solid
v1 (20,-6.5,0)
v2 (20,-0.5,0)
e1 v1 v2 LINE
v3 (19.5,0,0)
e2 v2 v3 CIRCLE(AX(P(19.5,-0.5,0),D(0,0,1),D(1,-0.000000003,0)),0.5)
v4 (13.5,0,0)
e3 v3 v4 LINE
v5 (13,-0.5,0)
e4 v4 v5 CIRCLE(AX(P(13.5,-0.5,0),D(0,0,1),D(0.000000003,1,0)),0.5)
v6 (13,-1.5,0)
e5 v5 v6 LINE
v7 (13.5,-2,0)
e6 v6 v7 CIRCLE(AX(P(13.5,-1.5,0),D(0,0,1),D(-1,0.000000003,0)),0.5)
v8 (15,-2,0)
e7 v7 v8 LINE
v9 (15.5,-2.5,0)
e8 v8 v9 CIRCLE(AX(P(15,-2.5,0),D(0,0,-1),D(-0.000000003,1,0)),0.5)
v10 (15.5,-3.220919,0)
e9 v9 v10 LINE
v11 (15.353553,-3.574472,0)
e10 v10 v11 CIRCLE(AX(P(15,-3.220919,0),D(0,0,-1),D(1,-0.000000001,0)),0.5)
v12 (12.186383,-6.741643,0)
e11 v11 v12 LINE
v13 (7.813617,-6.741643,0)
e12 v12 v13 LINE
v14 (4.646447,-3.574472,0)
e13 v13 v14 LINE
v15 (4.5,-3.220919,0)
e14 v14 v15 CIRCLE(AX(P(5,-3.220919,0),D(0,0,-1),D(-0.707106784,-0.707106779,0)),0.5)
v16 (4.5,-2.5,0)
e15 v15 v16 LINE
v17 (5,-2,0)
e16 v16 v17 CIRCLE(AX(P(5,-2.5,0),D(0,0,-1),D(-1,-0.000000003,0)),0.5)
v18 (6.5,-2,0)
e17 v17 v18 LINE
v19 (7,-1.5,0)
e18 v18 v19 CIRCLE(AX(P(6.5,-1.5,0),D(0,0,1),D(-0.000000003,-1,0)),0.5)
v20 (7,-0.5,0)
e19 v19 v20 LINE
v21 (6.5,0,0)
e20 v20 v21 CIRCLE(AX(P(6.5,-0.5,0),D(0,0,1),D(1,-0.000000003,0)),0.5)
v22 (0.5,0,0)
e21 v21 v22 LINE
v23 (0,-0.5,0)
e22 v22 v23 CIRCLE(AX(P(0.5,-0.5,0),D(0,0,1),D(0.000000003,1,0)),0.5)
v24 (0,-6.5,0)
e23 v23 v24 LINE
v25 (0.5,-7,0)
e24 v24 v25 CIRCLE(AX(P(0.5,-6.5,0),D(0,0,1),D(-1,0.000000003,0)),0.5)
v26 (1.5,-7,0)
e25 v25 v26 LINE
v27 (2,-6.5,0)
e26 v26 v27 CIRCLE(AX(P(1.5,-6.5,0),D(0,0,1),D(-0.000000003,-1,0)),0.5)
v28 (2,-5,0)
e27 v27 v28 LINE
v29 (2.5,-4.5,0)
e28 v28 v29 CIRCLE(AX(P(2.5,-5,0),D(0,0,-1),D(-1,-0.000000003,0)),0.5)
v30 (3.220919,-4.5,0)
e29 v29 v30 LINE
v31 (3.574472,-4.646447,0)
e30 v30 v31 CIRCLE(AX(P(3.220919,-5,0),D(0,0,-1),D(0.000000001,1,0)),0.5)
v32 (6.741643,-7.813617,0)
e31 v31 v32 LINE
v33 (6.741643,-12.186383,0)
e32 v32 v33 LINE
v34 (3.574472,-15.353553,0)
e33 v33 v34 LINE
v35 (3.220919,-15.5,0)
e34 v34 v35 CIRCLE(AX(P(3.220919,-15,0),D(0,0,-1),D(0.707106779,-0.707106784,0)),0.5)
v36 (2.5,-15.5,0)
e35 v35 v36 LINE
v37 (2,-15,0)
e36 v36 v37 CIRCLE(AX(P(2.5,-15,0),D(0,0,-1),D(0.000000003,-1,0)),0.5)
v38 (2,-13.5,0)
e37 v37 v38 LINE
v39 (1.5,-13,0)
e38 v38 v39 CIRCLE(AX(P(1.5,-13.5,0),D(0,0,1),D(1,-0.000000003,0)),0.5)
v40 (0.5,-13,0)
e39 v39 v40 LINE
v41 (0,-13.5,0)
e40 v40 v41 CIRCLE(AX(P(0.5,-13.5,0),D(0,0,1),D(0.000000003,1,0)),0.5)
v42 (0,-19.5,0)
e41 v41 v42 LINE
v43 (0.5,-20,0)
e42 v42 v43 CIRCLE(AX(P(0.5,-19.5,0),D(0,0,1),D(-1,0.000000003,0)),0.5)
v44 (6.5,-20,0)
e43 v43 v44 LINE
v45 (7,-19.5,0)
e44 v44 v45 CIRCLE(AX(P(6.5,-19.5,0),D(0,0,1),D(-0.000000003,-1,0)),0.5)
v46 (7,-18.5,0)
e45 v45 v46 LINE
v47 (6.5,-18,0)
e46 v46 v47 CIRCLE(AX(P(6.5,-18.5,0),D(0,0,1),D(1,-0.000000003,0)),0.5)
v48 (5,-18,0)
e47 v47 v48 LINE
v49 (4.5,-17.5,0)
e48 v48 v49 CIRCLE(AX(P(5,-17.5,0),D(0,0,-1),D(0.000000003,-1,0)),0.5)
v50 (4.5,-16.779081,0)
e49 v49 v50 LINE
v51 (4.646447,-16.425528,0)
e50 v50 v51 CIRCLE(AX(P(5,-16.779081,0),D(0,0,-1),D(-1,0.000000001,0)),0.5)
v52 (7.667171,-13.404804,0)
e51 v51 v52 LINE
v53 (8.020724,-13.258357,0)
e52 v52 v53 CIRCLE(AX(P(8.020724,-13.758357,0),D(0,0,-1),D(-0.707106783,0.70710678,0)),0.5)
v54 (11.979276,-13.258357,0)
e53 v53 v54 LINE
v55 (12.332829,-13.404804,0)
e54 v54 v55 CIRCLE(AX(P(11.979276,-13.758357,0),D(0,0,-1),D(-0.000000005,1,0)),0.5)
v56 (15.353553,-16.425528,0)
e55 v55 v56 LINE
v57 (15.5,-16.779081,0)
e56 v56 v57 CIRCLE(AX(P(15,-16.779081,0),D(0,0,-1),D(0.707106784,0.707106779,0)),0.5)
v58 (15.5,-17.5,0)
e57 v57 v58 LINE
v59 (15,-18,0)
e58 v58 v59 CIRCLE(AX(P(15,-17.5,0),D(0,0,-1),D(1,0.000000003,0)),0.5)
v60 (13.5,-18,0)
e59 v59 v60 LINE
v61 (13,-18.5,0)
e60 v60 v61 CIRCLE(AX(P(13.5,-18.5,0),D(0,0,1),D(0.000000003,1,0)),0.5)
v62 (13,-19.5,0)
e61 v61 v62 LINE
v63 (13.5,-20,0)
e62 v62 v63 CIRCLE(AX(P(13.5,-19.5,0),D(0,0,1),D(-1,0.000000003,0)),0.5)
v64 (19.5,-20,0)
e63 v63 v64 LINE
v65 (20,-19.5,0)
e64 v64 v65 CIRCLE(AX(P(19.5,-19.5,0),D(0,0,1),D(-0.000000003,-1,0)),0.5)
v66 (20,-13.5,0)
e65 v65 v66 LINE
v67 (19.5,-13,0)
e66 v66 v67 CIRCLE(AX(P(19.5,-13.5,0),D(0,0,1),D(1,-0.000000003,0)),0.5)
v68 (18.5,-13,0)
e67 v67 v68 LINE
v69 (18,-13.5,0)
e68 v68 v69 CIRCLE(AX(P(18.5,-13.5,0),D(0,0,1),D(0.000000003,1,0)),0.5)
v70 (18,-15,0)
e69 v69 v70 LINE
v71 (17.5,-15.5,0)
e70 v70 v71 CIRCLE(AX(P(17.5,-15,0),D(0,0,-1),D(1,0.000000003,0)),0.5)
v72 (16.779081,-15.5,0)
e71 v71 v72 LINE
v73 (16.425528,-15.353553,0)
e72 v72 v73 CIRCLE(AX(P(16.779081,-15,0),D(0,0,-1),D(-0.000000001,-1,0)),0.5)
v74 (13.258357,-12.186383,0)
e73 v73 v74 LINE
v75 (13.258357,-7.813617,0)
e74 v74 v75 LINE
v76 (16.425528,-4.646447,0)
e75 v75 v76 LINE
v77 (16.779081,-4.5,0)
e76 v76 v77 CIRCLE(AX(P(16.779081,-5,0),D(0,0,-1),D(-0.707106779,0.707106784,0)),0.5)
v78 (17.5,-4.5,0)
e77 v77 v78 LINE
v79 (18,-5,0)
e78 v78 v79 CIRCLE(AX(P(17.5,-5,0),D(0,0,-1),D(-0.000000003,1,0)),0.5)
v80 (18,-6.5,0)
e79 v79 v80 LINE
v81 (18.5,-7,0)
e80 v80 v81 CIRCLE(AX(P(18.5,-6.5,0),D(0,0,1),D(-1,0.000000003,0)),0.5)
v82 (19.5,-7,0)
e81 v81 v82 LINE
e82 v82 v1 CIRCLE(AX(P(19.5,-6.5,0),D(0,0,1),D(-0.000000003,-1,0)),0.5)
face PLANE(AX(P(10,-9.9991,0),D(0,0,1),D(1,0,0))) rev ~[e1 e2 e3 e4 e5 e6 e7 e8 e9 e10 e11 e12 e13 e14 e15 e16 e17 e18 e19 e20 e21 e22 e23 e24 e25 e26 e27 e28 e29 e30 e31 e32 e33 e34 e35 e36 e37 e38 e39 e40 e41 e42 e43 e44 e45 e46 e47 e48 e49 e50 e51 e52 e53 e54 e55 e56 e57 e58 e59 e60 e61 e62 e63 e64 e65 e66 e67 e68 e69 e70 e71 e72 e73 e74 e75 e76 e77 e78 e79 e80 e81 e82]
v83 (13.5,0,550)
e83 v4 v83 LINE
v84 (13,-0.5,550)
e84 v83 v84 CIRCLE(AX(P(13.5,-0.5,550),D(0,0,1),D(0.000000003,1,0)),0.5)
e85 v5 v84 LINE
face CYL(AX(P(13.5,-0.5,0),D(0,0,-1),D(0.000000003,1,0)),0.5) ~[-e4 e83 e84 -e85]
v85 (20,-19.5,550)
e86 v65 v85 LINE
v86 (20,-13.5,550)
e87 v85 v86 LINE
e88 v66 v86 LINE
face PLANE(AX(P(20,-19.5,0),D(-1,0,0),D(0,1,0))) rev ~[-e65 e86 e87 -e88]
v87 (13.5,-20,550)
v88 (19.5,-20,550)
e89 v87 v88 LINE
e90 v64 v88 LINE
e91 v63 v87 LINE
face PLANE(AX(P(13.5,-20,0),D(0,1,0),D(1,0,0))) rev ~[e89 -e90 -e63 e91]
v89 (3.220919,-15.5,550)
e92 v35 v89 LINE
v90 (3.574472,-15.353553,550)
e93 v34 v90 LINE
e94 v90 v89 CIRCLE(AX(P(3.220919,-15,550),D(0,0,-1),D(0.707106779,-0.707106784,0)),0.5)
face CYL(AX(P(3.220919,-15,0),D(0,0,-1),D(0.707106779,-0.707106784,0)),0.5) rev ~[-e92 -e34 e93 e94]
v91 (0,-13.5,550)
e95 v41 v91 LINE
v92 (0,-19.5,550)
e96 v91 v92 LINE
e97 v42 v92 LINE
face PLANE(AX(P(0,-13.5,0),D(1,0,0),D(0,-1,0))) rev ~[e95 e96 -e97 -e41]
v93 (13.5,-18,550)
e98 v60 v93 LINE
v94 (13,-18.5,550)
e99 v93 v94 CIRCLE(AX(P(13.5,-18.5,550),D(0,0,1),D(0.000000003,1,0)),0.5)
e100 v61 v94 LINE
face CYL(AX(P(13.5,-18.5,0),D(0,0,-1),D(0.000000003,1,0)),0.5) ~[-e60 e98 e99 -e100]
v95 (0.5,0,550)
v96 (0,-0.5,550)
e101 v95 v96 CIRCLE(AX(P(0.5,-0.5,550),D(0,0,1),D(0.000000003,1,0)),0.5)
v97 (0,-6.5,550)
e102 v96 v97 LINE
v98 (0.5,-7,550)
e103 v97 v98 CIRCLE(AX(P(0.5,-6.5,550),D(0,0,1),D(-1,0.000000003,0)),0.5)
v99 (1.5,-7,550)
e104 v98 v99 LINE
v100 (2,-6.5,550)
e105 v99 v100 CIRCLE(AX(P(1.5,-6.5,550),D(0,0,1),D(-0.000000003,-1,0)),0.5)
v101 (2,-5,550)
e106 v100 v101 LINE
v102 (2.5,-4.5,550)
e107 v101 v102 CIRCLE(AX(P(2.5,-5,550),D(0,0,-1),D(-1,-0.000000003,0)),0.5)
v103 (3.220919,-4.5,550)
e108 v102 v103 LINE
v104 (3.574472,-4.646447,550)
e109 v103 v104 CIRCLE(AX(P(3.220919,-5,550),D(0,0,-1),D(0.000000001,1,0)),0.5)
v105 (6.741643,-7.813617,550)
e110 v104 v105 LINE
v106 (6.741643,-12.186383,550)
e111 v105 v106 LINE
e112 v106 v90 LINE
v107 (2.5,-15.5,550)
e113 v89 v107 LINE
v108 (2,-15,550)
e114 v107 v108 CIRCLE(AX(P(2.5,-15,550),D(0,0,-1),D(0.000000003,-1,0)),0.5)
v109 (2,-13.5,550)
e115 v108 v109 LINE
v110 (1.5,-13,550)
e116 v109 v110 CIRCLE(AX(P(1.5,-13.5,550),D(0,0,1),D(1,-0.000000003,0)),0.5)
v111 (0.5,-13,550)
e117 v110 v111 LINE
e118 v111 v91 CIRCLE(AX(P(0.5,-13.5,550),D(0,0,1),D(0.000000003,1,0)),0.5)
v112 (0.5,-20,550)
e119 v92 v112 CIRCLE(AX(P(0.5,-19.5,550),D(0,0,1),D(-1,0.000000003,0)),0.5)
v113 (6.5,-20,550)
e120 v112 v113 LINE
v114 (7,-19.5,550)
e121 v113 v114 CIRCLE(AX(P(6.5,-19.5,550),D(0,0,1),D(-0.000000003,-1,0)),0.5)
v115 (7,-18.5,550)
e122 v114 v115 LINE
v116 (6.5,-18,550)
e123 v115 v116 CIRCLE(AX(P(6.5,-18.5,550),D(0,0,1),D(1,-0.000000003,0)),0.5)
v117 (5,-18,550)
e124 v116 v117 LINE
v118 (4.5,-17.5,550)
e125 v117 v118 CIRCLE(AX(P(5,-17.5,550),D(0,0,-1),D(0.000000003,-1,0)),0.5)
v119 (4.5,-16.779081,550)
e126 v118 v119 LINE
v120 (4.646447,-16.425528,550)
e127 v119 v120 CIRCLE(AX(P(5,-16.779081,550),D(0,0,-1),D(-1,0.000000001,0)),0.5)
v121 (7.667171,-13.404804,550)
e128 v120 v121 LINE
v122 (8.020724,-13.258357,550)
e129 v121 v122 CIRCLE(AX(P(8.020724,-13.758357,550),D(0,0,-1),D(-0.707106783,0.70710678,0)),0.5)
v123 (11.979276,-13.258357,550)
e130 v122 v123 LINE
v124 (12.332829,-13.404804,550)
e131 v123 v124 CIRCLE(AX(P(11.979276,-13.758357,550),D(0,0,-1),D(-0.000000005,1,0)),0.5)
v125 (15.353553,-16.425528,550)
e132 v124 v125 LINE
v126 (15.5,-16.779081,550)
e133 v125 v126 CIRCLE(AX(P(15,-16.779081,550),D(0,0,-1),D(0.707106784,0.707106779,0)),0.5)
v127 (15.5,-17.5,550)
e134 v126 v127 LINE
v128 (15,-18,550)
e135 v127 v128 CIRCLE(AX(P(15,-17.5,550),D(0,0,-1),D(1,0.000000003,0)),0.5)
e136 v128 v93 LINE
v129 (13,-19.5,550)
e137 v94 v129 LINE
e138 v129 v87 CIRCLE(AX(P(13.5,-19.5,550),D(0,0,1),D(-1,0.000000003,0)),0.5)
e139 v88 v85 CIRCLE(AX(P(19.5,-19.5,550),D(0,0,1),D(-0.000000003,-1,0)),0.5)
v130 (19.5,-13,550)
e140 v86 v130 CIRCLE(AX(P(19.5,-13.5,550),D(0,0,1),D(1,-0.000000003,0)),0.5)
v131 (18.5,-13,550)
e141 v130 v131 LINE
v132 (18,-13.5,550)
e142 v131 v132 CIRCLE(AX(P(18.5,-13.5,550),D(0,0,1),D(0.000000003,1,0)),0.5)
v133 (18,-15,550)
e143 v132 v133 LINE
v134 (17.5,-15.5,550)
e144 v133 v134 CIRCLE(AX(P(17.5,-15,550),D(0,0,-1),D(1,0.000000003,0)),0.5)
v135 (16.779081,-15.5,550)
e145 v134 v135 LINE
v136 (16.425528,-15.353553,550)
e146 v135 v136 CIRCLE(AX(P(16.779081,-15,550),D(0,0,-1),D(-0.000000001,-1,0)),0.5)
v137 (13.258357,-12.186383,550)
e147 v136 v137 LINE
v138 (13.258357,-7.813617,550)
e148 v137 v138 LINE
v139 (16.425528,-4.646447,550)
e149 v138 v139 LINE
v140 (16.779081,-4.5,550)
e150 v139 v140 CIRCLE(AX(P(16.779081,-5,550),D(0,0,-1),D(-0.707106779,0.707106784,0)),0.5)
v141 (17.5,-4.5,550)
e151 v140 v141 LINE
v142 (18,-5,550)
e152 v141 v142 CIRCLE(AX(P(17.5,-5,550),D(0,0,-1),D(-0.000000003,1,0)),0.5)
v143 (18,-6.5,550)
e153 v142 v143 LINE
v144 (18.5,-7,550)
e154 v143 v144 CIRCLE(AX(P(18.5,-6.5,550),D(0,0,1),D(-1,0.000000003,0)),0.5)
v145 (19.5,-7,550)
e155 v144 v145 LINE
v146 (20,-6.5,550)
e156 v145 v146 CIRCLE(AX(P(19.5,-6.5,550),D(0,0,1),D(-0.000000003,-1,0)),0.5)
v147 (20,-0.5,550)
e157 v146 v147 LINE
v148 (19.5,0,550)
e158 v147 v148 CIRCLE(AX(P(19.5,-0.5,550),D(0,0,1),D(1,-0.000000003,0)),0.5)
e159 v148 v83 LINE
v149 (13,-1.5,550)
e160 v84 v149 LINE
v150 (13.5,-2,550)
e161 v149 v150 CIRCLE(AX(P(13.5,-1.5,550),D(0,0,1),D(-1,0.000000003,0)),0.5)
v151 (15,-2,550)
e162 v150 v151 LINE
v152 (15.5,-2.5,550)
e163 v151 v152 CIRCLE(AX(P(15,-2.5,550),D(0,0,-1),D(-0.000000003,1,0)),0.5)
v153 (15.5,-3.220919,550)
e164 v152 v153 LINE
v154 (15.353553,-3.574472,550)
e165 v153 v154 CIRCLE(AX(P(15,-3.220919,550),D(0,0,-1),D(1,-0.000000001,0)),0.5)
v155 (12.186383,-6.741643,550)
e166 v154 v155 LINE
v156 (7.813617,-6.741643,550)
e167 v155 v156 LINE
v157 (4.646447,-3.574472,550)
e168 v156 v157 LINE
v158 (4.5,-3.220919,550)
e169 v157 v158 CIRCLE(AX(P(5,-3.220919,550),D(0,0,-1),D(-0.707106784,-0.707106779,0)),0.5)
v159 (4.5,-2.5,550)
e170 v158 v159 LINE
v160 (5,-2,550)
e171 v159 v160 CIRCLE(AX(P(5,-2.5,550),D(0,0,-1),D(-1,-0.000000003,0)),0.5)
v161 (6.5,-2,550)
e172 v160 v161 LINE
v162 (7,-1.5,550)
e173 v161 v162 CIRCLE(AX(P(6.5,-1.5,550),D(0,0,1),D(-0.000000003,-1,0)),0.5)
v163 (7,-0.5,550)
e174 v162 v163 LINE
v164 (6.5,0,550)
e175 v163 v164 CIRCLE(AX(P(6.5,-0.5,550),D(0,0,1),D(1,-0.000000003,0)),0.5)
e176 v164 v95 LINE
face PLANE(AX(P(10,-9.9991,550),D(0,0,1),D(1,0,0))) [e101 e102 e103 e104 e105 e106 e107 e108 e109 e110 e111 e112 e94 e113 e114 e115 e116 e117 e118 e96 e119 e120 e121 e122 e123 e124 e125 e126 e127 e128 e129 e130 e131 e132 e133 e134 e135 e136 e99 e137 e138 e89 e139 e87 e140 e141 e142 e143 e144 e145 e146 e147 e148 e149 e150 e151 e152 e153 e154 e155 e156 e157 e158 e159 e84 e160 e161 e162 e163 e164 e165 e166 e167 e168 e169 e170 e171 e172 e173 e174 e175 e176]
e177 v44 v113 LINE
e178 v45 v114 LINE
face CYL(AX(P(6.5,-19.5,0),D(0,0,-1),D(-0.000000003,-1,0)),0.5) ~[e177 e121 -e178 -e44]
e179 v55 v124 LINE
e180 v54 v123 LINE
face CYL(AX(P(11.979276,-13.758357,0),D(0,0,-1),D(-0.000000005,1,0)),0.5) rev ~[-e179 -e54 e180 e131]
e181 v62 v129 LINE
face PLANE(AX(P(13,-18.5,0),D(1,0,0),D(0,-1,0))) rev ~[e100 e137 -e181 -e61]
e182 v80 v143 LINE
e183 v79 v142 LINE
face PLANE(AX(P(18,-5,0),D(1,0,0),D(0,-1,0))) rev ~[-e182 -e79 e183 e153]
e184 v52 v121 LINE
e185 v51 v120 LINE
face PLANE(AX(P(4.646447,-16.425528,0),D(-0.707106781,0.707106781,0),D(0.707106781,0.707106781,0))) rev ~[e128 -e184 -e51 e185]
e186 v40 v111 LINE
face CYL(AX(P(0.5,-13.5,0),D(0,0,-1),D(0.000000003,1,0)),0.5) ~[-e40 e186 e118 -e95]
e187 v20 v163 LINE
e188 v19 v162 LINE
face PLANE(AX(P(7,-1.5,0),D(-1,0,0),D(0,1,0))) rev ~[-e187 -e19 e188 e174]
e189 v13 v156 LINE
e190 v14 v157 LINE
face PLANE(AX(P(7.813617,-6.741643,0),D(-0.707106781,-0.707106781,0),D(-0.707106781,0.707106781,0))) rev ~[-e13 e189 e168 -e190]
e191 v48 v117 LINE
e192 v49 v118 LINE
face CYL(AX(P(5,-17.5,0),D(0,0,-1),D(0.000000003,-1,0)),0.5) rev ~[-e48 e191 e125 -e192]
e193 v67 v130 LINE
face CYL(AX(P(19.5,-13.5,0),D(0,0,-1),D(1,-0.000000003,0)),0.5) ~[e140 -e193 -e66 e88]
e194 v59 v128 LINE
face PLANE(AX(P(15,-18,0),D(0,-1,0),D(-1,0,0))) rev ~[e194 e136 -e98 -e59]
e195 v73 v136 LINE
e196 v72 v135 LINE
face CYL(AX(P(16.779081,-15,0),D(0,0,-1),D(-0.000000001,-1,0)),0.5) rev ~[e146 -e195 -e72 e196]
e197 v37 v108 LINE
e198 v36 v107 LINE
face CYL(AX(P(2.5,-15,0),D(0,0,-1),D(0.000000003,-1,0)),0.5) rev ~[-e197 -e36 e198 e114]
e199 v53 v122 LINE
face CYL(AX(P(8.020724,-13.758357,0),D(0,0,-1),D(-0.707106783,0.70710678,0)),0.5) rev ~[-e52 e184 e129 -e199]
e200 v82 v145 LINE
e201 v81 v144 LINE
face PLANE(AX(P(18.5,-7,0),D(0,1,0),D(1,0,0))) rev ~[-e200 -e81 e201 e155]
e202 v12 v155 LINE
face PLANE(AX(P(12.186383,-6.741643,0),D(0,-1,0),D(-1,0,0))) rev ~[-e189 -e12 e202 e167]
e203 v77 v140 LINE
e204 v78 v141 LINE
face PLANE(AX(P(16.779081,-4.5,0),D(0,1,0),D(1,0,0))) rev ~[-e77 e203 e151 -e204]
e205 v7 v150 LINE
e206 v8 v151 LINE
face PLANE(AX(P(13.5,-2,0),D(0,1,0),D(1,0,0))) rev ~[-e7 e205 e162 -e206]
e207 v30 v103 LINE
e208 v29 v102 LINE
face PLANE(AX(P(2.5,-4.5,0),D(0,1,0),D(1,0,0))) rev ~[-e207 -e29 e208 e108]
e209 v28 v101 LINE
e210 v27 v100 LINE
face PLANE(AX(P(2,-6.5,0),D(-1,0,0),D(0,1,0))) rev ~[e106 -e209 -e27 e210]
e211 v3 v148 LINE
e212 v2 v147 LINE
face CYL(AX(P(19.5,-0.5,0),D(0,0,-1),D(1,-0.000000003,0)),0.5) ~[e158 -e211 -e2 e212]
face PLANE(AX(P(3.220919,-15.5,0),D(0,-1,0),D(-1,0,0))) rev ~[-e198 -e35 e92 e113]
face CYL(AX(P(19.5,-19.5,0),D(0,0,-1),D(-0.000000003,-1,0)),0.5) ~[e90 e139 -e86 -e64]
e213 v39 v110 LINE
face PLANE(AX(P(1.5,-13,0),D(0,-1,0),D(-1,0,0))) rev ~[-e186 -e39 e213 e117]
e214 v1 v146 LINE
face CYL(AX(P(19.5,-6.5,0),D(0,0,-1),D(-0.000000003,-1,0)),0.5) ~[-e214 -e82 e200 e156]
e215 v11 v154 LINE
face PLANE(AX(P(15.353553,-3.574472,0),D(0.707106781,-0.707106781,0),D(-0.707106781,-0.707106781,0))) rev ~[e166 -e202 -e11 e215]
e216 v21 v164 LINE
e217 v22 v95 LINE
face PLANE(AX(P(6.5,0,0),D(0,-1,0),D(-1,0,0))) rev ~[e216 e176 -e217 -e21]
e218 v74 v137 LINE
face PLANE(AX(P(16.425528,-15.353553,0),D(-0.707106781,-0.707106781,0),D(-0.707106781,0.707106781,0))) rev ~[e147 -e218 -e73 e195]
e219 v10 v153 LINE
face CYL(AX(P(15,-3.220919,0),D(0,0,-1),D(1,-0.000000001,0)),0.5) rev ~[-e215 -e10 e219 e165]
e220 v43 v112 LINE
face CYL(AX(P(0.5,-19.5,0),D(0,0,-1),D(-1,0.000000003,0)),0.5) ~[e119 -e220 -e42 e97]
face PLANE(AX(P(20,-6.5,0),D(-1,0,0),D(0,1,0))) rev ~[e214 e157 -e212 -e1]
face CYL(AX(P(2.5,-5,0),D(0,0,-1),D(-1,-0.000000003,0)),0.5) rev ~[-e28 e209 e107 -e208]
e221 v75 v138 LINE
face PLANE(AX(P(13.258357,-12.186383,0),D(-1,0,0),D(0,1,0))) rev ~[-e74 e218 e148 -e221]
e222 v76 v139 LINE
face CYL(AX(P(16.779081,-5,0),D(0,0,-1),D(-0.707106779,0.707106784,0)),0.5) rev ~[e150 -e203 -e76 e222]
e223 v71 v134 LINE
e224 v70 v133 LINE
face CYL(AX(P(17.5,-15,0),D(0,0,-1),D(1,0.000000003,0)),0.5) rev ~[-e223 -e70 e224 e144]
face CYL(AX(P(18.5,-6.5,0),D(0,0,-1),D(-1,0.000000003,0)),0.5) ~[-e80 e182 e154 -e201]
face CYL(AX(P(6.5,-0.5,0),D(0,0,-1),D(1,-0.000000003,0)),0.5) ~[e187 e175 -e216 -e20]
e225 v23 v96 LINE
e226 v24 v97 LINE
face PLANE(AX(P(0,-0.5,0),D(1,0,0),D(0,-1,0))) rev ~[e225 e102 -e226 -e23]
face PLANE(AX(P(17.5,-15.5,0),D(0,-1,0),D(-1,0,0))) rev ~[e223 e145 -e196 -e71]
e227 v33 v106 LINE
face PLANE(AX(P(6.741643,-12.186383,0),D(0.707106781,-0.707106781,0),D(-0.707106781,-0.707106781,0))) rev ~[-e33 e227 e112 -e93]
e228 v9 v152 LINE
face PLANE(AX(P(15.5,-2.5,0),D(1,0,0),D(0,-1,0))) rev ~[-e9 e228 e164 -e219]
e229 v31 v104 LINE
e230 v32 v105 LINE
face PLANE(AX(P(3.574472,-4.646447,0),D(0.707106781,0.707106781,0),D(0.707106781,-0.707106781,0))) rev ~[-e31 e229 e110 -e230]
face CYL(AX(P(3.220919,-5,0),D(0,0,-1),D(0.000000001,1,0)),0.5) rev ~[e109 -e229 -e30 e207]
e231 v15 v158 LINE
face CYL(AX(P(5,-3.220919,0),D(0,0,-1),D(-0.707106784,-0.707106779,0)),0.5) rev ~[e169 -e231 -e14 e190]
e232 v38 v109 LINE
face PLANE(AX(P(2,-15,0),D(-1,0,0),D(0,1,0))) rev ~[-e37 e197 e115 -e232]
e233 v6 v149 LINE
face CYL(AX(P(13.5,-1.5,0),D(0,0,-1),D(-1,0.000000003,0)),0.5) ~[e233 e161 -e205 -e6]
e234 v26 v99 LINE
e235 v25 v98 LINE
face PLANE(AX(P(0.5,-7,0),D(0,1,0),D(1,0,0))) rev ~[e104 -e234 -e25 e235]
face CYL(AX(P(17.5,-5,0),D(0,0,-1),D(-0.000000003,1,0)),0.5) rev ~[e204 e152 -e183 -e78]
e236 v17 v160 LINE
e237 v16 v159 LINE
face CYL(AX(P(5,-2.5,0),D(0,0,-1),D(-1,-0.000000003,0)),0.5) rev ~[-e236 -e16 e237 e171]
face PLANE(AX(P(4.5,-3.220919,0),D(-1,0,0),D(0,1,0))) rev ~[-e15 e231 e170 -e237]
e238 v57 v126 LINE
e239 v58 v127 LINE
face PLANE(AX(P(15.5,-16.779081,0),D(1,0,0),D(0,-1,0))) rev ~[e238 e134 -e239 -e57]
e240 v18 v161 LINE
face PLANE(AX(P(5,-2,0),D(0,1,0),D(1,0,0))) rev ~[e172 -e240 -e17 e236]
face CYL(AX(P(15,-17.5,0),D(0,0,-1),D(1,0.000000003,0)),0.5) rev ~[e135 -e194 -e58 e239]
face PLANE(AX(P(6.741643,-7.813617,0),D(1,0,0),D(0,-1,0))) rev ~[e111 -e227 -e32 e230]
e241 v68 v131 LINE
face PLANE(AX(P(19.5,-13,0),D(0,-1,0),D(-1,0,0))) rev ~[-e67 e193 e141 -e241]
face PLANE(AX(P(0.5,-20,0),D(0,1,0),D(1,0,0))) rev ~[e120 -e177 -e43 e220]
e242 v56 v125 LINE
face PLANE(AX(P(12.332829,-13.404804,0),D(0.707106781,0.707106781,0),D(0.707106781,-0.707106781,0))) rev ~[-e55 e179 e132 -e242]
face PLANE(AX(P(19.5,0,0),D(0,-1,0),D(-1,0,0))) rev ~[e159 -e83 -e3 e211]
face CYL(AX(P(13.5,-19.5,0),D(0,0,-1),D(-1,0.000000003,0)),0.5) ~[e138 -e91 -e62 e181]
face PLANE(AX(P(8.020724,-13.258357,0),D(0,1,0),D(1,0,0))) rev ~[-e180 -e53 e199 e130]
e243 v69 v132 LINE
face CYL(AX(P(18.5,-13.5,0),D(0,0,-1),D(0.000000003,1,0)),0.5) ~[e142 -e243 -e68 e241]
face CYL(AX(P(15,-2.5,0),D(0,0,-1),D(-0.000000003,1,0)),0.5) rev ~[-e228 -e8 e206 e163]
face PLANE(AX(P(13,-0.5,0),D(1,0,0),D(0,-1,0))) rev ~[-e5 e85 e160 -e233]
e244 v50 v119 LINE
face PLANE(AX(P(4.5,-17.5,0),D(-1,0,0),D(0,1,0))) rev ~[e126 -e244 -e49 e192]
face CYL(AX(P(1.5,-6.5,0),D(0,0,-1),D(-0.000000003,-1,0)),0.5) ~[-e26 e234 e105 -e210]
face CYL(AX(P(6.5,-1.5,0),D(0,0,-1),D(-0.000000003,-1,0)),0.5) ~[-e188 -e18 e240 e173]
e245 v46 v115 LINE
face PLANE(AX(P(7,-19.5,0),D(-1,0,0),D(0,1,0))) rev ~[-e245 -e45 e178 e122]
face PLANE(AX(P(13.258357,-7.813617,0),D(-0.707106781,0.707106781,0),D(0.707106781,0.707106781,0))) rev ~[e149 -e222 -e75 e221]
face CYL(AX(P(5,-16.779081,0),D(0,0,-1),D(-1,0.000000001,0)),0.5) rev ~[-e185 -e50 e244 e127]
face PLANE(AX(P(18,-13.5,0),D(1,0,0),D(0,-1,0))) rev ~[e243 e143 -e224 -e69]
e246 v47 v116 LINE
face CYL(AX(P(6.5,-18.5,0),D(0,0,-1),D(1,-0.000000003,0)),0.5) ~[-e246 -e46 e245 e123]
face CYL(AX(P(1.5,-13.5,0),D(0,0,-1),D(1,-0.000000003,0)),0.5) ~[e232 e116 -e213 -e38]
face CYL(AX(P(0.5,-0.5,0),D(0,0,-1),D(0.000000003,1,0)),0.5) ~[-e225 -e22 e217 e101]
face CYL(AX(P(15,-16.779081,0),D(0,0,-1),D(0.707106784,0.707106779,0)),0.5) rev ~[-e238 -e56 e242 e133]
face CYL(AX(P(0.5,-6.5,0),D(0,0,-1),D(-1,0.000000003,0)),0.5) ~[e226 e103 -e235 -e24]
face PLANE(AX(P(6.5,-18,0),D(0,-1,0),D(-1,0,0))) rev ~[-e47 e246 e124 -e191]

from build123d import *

# Parameters (mm, degrees)
EXTRUDE_1_DEPTH = 550


with BuildPart() as part:
    # 草图1 → 凸台-拉伸1 (new body)
    with BuildSketch(Plane.XY):
        with BuildLine():
            Line((6.5, 0), (0.5, 0))
            ThreePointArc((0.5, 0), (0.146446609, -0.146446609), (0, -0.5))
            Line((0, -0.5), (0, -6.5))
            ThreePointArc((0, -6.5), (0.146446609, -6.853553391), (0.5, -7))
            Line((0.5, -7), (1.5, -7))
            ThreePointArc((1.5, -7), (1.853553391, -6.853553391), (2, -6.5))
            Line((2, -6.5), (2, -5))
            ThreePointArc((2, -5), (2.146446609, -4.646446609), (2.5, -4.5))
            Line((2.5, -4.5), (3.220918534, -4.5))
            ThreePointArc((3.220918534, -4.5), (3.412260251, -4.538060234), (3.574471925, -4.646446609))
            Line((3.574471925, -4.646446609), (6.741642787, -7.813617472))
            Line((6.741642787, -7.813617472), (6.741642787, -12.186382528))
            Line((6.741642787, -12.186382528), (3.574471925, -15.353553391))
            ThreePointArc((3.574471925, -15.353553391), (3.412260251, -15.461939766), (3.220918534, -15.5))
            Line((3.220918534, -15.5), (2.5, -15.5))
            ThreePointArc((2.5, -15.5), (2.146446609, -15.353553391), (2, -15))
            Line((2, -15), (2, -13.5))
            ThreePointArc((2, -13.5), (1.853553391, -13.146446609), (1.5, -13))
            Line((1.5, -13), (0.5, -13))
            ThreePointArc((0.5, -13), (0.146446609, -13.146446609), (0, -13.5))
            Line((0, -13.5), (0, -19.5))
            ThreePointArc((0, -19.5), (0.146446609, -19.853553391), (0.5, -20))
            Line((0.5, -20), (6.5, -20))
            ThreePointArc((6.5, -20), (6.853553391, -19.853553391), (7, -19.5))
            Line((7, -19.5), (7, -18.5))
            ThreePointArc((7, -18.5), (6.853553391, -18.146446609), (6.5, -18))
            Line((6.5, -18), (5, -18))
            ThreePointArc((5, -18), (4.646446609, -17.853553391), (4.5, -17.5))
            Line((4.5, -17.5), (4.5, -16.779081466))
            ThreePointArc((4.5, -16.779081466), (4.538060234, -16.587739749), (4.646446609, -16.425528075))
            Line((4.646446609, -16.425528075), (7.667170862, -13.404803822))
            ThreePointArc((7.667170862, -13.404803822), (7.829382537, -13.296417446), (8.020724253, -13.258357213))
            Line((8.020724253, -13.258357213), (11.979275747, -13.258357213))
            ThreePointArc((11.979275747, -13.258357213), (12.170617463, -13.296417446), (12.332829138, -13.404803822))
            Line((12.332829138, -13.404803822), (15.353553391, -16.425528075))
            ThreePointArc((15.353553391, -16.425528075), (15.461939766, -16.587739749), (15.5, -16.779081466))
            Line((15.5, -16.779081466), (15.5, -17.5))
            ThreePointArc((15.5, -17.5), (15.353553391, -17.853553391), (15, -18))
            Line((15, -18), (13.5, -18))
            ThreePointArc((13.5, -18), (13.146446609, -18.146446609), (13, -18.5))
            Line((13, -18.5), (13, -19.5))
            ThreePointArc((13, -19.5), (13.146446609, -19.853553391), (13.5, -20))
            Line((13.5, -20), (19.5, -20))
            ThreePointArc((19.5, -20), (19.853553391, -19.853553391), (20, -19.5))
            Line((20, -19.5), (20, -13.5))
            ThreePointArc((20, -13.5), (19.853553391, -13.146446609), (19.5, -13))
            Line((19.5, -13), (18.5, -13))
            ThreePointArc((18.5, -13), (18.146446609, -13.146446609), (18, -13.5))
            Line((18, -13.5), (18, -15))
            ThreePointArc((18, -15), (17.853553391, -15.353553391), (17.5, -15.5))
            Line((17.5, -15.5), (16.779081466, -15.5))
            ThreePointArc((16.779081466, -15.5), (16.587739749, -15.461939766), (16.425528075, -15.353553391))
            Line((16.425528075, -15.353553391), (13.258357213, -12.186382528))
            Line((13.258357213, -12.186382528), (13.258357213, -7.813617472))
            Line((13.258357213, -7.813617472), (16.425528075, -4.646446609))
            ThreePointArc((16.425528075, -4.646446609), (16.587739749, -4.538060234), (16.779081466, -4.5))
            Line((16.779081466, -4.5), (17.5, -4.5))
            ThreePointArc((17.5, -4.5), (17.853553391, -4.646446609), (18, -5))
            Line((18, -5), (18, -6.5))
            ThreePointArc((18, -6.5), (18.146446609, -6.853553391), (18.5, -7))
            Line((18.5, -7), (19.5, -7))
            ThreePointArc((19.5, -7), (19.853553391, -6.853553391), (20, -6.5))
            Line((20, -6.5), (20, -0.5))
            ThreePointArc((20, -0.5), (19.853553391, -0.146446609), (19.5, 0))
            Line((19.5, 0), (13.5, 0))
            ThreePointArc((13.5, 0), (13.146446609, -0.146446609), (13, -0.5))
            Line((13, -0.5), (13, -1.5))
            ThreePointArc((13, -1.5), (13.146446609, -1.853553391), (13.5, -2))
            Line((13.5, -2), (15, -2))
            ThreePointArc((15, -2), (15.353553391, -2.146446609), (15.5, -2.5))
            Line((15.5, -2.5), (15.5, -3.220918534))
            ThreePointArc((15.5, -3.220918534), (15.461939766, -3.412260251), (15.353553391, -3.574471925))
            Line((15.353553391, -3.574471925), (12.186382528, -6.741642787))
            Line((12.186382528, -6.741642787), (7.813617472, -6.741642787))
            Line((7.813617472, -6.741642787), (4.646446609, -3.574471925))
            ThreePointArc((4.646446609, -3.574471925), (4.538060234, -3.412260251), (4.5, -3.220918534))
            Line((4.5, -3.220918534), (4.5, -2.5))
            ThreePointArc((4.5, -2.5), (4.646446609, -2.146446609), (5, -2))
            Line((5, -2), (6.5, -2))
            ThreePointArc((6.5, -2), (6.853553391, -1.853553391), (7, -1.5))
            Line((7, -1.5), (7, -0.5))
            ThreePointArc((7, -0.5), (6.853553391, -0.146446609), (6.5, 0))
        make_face()
    extrude(amount=EXTRUDE_1_DEPTH)


solid = part.part
